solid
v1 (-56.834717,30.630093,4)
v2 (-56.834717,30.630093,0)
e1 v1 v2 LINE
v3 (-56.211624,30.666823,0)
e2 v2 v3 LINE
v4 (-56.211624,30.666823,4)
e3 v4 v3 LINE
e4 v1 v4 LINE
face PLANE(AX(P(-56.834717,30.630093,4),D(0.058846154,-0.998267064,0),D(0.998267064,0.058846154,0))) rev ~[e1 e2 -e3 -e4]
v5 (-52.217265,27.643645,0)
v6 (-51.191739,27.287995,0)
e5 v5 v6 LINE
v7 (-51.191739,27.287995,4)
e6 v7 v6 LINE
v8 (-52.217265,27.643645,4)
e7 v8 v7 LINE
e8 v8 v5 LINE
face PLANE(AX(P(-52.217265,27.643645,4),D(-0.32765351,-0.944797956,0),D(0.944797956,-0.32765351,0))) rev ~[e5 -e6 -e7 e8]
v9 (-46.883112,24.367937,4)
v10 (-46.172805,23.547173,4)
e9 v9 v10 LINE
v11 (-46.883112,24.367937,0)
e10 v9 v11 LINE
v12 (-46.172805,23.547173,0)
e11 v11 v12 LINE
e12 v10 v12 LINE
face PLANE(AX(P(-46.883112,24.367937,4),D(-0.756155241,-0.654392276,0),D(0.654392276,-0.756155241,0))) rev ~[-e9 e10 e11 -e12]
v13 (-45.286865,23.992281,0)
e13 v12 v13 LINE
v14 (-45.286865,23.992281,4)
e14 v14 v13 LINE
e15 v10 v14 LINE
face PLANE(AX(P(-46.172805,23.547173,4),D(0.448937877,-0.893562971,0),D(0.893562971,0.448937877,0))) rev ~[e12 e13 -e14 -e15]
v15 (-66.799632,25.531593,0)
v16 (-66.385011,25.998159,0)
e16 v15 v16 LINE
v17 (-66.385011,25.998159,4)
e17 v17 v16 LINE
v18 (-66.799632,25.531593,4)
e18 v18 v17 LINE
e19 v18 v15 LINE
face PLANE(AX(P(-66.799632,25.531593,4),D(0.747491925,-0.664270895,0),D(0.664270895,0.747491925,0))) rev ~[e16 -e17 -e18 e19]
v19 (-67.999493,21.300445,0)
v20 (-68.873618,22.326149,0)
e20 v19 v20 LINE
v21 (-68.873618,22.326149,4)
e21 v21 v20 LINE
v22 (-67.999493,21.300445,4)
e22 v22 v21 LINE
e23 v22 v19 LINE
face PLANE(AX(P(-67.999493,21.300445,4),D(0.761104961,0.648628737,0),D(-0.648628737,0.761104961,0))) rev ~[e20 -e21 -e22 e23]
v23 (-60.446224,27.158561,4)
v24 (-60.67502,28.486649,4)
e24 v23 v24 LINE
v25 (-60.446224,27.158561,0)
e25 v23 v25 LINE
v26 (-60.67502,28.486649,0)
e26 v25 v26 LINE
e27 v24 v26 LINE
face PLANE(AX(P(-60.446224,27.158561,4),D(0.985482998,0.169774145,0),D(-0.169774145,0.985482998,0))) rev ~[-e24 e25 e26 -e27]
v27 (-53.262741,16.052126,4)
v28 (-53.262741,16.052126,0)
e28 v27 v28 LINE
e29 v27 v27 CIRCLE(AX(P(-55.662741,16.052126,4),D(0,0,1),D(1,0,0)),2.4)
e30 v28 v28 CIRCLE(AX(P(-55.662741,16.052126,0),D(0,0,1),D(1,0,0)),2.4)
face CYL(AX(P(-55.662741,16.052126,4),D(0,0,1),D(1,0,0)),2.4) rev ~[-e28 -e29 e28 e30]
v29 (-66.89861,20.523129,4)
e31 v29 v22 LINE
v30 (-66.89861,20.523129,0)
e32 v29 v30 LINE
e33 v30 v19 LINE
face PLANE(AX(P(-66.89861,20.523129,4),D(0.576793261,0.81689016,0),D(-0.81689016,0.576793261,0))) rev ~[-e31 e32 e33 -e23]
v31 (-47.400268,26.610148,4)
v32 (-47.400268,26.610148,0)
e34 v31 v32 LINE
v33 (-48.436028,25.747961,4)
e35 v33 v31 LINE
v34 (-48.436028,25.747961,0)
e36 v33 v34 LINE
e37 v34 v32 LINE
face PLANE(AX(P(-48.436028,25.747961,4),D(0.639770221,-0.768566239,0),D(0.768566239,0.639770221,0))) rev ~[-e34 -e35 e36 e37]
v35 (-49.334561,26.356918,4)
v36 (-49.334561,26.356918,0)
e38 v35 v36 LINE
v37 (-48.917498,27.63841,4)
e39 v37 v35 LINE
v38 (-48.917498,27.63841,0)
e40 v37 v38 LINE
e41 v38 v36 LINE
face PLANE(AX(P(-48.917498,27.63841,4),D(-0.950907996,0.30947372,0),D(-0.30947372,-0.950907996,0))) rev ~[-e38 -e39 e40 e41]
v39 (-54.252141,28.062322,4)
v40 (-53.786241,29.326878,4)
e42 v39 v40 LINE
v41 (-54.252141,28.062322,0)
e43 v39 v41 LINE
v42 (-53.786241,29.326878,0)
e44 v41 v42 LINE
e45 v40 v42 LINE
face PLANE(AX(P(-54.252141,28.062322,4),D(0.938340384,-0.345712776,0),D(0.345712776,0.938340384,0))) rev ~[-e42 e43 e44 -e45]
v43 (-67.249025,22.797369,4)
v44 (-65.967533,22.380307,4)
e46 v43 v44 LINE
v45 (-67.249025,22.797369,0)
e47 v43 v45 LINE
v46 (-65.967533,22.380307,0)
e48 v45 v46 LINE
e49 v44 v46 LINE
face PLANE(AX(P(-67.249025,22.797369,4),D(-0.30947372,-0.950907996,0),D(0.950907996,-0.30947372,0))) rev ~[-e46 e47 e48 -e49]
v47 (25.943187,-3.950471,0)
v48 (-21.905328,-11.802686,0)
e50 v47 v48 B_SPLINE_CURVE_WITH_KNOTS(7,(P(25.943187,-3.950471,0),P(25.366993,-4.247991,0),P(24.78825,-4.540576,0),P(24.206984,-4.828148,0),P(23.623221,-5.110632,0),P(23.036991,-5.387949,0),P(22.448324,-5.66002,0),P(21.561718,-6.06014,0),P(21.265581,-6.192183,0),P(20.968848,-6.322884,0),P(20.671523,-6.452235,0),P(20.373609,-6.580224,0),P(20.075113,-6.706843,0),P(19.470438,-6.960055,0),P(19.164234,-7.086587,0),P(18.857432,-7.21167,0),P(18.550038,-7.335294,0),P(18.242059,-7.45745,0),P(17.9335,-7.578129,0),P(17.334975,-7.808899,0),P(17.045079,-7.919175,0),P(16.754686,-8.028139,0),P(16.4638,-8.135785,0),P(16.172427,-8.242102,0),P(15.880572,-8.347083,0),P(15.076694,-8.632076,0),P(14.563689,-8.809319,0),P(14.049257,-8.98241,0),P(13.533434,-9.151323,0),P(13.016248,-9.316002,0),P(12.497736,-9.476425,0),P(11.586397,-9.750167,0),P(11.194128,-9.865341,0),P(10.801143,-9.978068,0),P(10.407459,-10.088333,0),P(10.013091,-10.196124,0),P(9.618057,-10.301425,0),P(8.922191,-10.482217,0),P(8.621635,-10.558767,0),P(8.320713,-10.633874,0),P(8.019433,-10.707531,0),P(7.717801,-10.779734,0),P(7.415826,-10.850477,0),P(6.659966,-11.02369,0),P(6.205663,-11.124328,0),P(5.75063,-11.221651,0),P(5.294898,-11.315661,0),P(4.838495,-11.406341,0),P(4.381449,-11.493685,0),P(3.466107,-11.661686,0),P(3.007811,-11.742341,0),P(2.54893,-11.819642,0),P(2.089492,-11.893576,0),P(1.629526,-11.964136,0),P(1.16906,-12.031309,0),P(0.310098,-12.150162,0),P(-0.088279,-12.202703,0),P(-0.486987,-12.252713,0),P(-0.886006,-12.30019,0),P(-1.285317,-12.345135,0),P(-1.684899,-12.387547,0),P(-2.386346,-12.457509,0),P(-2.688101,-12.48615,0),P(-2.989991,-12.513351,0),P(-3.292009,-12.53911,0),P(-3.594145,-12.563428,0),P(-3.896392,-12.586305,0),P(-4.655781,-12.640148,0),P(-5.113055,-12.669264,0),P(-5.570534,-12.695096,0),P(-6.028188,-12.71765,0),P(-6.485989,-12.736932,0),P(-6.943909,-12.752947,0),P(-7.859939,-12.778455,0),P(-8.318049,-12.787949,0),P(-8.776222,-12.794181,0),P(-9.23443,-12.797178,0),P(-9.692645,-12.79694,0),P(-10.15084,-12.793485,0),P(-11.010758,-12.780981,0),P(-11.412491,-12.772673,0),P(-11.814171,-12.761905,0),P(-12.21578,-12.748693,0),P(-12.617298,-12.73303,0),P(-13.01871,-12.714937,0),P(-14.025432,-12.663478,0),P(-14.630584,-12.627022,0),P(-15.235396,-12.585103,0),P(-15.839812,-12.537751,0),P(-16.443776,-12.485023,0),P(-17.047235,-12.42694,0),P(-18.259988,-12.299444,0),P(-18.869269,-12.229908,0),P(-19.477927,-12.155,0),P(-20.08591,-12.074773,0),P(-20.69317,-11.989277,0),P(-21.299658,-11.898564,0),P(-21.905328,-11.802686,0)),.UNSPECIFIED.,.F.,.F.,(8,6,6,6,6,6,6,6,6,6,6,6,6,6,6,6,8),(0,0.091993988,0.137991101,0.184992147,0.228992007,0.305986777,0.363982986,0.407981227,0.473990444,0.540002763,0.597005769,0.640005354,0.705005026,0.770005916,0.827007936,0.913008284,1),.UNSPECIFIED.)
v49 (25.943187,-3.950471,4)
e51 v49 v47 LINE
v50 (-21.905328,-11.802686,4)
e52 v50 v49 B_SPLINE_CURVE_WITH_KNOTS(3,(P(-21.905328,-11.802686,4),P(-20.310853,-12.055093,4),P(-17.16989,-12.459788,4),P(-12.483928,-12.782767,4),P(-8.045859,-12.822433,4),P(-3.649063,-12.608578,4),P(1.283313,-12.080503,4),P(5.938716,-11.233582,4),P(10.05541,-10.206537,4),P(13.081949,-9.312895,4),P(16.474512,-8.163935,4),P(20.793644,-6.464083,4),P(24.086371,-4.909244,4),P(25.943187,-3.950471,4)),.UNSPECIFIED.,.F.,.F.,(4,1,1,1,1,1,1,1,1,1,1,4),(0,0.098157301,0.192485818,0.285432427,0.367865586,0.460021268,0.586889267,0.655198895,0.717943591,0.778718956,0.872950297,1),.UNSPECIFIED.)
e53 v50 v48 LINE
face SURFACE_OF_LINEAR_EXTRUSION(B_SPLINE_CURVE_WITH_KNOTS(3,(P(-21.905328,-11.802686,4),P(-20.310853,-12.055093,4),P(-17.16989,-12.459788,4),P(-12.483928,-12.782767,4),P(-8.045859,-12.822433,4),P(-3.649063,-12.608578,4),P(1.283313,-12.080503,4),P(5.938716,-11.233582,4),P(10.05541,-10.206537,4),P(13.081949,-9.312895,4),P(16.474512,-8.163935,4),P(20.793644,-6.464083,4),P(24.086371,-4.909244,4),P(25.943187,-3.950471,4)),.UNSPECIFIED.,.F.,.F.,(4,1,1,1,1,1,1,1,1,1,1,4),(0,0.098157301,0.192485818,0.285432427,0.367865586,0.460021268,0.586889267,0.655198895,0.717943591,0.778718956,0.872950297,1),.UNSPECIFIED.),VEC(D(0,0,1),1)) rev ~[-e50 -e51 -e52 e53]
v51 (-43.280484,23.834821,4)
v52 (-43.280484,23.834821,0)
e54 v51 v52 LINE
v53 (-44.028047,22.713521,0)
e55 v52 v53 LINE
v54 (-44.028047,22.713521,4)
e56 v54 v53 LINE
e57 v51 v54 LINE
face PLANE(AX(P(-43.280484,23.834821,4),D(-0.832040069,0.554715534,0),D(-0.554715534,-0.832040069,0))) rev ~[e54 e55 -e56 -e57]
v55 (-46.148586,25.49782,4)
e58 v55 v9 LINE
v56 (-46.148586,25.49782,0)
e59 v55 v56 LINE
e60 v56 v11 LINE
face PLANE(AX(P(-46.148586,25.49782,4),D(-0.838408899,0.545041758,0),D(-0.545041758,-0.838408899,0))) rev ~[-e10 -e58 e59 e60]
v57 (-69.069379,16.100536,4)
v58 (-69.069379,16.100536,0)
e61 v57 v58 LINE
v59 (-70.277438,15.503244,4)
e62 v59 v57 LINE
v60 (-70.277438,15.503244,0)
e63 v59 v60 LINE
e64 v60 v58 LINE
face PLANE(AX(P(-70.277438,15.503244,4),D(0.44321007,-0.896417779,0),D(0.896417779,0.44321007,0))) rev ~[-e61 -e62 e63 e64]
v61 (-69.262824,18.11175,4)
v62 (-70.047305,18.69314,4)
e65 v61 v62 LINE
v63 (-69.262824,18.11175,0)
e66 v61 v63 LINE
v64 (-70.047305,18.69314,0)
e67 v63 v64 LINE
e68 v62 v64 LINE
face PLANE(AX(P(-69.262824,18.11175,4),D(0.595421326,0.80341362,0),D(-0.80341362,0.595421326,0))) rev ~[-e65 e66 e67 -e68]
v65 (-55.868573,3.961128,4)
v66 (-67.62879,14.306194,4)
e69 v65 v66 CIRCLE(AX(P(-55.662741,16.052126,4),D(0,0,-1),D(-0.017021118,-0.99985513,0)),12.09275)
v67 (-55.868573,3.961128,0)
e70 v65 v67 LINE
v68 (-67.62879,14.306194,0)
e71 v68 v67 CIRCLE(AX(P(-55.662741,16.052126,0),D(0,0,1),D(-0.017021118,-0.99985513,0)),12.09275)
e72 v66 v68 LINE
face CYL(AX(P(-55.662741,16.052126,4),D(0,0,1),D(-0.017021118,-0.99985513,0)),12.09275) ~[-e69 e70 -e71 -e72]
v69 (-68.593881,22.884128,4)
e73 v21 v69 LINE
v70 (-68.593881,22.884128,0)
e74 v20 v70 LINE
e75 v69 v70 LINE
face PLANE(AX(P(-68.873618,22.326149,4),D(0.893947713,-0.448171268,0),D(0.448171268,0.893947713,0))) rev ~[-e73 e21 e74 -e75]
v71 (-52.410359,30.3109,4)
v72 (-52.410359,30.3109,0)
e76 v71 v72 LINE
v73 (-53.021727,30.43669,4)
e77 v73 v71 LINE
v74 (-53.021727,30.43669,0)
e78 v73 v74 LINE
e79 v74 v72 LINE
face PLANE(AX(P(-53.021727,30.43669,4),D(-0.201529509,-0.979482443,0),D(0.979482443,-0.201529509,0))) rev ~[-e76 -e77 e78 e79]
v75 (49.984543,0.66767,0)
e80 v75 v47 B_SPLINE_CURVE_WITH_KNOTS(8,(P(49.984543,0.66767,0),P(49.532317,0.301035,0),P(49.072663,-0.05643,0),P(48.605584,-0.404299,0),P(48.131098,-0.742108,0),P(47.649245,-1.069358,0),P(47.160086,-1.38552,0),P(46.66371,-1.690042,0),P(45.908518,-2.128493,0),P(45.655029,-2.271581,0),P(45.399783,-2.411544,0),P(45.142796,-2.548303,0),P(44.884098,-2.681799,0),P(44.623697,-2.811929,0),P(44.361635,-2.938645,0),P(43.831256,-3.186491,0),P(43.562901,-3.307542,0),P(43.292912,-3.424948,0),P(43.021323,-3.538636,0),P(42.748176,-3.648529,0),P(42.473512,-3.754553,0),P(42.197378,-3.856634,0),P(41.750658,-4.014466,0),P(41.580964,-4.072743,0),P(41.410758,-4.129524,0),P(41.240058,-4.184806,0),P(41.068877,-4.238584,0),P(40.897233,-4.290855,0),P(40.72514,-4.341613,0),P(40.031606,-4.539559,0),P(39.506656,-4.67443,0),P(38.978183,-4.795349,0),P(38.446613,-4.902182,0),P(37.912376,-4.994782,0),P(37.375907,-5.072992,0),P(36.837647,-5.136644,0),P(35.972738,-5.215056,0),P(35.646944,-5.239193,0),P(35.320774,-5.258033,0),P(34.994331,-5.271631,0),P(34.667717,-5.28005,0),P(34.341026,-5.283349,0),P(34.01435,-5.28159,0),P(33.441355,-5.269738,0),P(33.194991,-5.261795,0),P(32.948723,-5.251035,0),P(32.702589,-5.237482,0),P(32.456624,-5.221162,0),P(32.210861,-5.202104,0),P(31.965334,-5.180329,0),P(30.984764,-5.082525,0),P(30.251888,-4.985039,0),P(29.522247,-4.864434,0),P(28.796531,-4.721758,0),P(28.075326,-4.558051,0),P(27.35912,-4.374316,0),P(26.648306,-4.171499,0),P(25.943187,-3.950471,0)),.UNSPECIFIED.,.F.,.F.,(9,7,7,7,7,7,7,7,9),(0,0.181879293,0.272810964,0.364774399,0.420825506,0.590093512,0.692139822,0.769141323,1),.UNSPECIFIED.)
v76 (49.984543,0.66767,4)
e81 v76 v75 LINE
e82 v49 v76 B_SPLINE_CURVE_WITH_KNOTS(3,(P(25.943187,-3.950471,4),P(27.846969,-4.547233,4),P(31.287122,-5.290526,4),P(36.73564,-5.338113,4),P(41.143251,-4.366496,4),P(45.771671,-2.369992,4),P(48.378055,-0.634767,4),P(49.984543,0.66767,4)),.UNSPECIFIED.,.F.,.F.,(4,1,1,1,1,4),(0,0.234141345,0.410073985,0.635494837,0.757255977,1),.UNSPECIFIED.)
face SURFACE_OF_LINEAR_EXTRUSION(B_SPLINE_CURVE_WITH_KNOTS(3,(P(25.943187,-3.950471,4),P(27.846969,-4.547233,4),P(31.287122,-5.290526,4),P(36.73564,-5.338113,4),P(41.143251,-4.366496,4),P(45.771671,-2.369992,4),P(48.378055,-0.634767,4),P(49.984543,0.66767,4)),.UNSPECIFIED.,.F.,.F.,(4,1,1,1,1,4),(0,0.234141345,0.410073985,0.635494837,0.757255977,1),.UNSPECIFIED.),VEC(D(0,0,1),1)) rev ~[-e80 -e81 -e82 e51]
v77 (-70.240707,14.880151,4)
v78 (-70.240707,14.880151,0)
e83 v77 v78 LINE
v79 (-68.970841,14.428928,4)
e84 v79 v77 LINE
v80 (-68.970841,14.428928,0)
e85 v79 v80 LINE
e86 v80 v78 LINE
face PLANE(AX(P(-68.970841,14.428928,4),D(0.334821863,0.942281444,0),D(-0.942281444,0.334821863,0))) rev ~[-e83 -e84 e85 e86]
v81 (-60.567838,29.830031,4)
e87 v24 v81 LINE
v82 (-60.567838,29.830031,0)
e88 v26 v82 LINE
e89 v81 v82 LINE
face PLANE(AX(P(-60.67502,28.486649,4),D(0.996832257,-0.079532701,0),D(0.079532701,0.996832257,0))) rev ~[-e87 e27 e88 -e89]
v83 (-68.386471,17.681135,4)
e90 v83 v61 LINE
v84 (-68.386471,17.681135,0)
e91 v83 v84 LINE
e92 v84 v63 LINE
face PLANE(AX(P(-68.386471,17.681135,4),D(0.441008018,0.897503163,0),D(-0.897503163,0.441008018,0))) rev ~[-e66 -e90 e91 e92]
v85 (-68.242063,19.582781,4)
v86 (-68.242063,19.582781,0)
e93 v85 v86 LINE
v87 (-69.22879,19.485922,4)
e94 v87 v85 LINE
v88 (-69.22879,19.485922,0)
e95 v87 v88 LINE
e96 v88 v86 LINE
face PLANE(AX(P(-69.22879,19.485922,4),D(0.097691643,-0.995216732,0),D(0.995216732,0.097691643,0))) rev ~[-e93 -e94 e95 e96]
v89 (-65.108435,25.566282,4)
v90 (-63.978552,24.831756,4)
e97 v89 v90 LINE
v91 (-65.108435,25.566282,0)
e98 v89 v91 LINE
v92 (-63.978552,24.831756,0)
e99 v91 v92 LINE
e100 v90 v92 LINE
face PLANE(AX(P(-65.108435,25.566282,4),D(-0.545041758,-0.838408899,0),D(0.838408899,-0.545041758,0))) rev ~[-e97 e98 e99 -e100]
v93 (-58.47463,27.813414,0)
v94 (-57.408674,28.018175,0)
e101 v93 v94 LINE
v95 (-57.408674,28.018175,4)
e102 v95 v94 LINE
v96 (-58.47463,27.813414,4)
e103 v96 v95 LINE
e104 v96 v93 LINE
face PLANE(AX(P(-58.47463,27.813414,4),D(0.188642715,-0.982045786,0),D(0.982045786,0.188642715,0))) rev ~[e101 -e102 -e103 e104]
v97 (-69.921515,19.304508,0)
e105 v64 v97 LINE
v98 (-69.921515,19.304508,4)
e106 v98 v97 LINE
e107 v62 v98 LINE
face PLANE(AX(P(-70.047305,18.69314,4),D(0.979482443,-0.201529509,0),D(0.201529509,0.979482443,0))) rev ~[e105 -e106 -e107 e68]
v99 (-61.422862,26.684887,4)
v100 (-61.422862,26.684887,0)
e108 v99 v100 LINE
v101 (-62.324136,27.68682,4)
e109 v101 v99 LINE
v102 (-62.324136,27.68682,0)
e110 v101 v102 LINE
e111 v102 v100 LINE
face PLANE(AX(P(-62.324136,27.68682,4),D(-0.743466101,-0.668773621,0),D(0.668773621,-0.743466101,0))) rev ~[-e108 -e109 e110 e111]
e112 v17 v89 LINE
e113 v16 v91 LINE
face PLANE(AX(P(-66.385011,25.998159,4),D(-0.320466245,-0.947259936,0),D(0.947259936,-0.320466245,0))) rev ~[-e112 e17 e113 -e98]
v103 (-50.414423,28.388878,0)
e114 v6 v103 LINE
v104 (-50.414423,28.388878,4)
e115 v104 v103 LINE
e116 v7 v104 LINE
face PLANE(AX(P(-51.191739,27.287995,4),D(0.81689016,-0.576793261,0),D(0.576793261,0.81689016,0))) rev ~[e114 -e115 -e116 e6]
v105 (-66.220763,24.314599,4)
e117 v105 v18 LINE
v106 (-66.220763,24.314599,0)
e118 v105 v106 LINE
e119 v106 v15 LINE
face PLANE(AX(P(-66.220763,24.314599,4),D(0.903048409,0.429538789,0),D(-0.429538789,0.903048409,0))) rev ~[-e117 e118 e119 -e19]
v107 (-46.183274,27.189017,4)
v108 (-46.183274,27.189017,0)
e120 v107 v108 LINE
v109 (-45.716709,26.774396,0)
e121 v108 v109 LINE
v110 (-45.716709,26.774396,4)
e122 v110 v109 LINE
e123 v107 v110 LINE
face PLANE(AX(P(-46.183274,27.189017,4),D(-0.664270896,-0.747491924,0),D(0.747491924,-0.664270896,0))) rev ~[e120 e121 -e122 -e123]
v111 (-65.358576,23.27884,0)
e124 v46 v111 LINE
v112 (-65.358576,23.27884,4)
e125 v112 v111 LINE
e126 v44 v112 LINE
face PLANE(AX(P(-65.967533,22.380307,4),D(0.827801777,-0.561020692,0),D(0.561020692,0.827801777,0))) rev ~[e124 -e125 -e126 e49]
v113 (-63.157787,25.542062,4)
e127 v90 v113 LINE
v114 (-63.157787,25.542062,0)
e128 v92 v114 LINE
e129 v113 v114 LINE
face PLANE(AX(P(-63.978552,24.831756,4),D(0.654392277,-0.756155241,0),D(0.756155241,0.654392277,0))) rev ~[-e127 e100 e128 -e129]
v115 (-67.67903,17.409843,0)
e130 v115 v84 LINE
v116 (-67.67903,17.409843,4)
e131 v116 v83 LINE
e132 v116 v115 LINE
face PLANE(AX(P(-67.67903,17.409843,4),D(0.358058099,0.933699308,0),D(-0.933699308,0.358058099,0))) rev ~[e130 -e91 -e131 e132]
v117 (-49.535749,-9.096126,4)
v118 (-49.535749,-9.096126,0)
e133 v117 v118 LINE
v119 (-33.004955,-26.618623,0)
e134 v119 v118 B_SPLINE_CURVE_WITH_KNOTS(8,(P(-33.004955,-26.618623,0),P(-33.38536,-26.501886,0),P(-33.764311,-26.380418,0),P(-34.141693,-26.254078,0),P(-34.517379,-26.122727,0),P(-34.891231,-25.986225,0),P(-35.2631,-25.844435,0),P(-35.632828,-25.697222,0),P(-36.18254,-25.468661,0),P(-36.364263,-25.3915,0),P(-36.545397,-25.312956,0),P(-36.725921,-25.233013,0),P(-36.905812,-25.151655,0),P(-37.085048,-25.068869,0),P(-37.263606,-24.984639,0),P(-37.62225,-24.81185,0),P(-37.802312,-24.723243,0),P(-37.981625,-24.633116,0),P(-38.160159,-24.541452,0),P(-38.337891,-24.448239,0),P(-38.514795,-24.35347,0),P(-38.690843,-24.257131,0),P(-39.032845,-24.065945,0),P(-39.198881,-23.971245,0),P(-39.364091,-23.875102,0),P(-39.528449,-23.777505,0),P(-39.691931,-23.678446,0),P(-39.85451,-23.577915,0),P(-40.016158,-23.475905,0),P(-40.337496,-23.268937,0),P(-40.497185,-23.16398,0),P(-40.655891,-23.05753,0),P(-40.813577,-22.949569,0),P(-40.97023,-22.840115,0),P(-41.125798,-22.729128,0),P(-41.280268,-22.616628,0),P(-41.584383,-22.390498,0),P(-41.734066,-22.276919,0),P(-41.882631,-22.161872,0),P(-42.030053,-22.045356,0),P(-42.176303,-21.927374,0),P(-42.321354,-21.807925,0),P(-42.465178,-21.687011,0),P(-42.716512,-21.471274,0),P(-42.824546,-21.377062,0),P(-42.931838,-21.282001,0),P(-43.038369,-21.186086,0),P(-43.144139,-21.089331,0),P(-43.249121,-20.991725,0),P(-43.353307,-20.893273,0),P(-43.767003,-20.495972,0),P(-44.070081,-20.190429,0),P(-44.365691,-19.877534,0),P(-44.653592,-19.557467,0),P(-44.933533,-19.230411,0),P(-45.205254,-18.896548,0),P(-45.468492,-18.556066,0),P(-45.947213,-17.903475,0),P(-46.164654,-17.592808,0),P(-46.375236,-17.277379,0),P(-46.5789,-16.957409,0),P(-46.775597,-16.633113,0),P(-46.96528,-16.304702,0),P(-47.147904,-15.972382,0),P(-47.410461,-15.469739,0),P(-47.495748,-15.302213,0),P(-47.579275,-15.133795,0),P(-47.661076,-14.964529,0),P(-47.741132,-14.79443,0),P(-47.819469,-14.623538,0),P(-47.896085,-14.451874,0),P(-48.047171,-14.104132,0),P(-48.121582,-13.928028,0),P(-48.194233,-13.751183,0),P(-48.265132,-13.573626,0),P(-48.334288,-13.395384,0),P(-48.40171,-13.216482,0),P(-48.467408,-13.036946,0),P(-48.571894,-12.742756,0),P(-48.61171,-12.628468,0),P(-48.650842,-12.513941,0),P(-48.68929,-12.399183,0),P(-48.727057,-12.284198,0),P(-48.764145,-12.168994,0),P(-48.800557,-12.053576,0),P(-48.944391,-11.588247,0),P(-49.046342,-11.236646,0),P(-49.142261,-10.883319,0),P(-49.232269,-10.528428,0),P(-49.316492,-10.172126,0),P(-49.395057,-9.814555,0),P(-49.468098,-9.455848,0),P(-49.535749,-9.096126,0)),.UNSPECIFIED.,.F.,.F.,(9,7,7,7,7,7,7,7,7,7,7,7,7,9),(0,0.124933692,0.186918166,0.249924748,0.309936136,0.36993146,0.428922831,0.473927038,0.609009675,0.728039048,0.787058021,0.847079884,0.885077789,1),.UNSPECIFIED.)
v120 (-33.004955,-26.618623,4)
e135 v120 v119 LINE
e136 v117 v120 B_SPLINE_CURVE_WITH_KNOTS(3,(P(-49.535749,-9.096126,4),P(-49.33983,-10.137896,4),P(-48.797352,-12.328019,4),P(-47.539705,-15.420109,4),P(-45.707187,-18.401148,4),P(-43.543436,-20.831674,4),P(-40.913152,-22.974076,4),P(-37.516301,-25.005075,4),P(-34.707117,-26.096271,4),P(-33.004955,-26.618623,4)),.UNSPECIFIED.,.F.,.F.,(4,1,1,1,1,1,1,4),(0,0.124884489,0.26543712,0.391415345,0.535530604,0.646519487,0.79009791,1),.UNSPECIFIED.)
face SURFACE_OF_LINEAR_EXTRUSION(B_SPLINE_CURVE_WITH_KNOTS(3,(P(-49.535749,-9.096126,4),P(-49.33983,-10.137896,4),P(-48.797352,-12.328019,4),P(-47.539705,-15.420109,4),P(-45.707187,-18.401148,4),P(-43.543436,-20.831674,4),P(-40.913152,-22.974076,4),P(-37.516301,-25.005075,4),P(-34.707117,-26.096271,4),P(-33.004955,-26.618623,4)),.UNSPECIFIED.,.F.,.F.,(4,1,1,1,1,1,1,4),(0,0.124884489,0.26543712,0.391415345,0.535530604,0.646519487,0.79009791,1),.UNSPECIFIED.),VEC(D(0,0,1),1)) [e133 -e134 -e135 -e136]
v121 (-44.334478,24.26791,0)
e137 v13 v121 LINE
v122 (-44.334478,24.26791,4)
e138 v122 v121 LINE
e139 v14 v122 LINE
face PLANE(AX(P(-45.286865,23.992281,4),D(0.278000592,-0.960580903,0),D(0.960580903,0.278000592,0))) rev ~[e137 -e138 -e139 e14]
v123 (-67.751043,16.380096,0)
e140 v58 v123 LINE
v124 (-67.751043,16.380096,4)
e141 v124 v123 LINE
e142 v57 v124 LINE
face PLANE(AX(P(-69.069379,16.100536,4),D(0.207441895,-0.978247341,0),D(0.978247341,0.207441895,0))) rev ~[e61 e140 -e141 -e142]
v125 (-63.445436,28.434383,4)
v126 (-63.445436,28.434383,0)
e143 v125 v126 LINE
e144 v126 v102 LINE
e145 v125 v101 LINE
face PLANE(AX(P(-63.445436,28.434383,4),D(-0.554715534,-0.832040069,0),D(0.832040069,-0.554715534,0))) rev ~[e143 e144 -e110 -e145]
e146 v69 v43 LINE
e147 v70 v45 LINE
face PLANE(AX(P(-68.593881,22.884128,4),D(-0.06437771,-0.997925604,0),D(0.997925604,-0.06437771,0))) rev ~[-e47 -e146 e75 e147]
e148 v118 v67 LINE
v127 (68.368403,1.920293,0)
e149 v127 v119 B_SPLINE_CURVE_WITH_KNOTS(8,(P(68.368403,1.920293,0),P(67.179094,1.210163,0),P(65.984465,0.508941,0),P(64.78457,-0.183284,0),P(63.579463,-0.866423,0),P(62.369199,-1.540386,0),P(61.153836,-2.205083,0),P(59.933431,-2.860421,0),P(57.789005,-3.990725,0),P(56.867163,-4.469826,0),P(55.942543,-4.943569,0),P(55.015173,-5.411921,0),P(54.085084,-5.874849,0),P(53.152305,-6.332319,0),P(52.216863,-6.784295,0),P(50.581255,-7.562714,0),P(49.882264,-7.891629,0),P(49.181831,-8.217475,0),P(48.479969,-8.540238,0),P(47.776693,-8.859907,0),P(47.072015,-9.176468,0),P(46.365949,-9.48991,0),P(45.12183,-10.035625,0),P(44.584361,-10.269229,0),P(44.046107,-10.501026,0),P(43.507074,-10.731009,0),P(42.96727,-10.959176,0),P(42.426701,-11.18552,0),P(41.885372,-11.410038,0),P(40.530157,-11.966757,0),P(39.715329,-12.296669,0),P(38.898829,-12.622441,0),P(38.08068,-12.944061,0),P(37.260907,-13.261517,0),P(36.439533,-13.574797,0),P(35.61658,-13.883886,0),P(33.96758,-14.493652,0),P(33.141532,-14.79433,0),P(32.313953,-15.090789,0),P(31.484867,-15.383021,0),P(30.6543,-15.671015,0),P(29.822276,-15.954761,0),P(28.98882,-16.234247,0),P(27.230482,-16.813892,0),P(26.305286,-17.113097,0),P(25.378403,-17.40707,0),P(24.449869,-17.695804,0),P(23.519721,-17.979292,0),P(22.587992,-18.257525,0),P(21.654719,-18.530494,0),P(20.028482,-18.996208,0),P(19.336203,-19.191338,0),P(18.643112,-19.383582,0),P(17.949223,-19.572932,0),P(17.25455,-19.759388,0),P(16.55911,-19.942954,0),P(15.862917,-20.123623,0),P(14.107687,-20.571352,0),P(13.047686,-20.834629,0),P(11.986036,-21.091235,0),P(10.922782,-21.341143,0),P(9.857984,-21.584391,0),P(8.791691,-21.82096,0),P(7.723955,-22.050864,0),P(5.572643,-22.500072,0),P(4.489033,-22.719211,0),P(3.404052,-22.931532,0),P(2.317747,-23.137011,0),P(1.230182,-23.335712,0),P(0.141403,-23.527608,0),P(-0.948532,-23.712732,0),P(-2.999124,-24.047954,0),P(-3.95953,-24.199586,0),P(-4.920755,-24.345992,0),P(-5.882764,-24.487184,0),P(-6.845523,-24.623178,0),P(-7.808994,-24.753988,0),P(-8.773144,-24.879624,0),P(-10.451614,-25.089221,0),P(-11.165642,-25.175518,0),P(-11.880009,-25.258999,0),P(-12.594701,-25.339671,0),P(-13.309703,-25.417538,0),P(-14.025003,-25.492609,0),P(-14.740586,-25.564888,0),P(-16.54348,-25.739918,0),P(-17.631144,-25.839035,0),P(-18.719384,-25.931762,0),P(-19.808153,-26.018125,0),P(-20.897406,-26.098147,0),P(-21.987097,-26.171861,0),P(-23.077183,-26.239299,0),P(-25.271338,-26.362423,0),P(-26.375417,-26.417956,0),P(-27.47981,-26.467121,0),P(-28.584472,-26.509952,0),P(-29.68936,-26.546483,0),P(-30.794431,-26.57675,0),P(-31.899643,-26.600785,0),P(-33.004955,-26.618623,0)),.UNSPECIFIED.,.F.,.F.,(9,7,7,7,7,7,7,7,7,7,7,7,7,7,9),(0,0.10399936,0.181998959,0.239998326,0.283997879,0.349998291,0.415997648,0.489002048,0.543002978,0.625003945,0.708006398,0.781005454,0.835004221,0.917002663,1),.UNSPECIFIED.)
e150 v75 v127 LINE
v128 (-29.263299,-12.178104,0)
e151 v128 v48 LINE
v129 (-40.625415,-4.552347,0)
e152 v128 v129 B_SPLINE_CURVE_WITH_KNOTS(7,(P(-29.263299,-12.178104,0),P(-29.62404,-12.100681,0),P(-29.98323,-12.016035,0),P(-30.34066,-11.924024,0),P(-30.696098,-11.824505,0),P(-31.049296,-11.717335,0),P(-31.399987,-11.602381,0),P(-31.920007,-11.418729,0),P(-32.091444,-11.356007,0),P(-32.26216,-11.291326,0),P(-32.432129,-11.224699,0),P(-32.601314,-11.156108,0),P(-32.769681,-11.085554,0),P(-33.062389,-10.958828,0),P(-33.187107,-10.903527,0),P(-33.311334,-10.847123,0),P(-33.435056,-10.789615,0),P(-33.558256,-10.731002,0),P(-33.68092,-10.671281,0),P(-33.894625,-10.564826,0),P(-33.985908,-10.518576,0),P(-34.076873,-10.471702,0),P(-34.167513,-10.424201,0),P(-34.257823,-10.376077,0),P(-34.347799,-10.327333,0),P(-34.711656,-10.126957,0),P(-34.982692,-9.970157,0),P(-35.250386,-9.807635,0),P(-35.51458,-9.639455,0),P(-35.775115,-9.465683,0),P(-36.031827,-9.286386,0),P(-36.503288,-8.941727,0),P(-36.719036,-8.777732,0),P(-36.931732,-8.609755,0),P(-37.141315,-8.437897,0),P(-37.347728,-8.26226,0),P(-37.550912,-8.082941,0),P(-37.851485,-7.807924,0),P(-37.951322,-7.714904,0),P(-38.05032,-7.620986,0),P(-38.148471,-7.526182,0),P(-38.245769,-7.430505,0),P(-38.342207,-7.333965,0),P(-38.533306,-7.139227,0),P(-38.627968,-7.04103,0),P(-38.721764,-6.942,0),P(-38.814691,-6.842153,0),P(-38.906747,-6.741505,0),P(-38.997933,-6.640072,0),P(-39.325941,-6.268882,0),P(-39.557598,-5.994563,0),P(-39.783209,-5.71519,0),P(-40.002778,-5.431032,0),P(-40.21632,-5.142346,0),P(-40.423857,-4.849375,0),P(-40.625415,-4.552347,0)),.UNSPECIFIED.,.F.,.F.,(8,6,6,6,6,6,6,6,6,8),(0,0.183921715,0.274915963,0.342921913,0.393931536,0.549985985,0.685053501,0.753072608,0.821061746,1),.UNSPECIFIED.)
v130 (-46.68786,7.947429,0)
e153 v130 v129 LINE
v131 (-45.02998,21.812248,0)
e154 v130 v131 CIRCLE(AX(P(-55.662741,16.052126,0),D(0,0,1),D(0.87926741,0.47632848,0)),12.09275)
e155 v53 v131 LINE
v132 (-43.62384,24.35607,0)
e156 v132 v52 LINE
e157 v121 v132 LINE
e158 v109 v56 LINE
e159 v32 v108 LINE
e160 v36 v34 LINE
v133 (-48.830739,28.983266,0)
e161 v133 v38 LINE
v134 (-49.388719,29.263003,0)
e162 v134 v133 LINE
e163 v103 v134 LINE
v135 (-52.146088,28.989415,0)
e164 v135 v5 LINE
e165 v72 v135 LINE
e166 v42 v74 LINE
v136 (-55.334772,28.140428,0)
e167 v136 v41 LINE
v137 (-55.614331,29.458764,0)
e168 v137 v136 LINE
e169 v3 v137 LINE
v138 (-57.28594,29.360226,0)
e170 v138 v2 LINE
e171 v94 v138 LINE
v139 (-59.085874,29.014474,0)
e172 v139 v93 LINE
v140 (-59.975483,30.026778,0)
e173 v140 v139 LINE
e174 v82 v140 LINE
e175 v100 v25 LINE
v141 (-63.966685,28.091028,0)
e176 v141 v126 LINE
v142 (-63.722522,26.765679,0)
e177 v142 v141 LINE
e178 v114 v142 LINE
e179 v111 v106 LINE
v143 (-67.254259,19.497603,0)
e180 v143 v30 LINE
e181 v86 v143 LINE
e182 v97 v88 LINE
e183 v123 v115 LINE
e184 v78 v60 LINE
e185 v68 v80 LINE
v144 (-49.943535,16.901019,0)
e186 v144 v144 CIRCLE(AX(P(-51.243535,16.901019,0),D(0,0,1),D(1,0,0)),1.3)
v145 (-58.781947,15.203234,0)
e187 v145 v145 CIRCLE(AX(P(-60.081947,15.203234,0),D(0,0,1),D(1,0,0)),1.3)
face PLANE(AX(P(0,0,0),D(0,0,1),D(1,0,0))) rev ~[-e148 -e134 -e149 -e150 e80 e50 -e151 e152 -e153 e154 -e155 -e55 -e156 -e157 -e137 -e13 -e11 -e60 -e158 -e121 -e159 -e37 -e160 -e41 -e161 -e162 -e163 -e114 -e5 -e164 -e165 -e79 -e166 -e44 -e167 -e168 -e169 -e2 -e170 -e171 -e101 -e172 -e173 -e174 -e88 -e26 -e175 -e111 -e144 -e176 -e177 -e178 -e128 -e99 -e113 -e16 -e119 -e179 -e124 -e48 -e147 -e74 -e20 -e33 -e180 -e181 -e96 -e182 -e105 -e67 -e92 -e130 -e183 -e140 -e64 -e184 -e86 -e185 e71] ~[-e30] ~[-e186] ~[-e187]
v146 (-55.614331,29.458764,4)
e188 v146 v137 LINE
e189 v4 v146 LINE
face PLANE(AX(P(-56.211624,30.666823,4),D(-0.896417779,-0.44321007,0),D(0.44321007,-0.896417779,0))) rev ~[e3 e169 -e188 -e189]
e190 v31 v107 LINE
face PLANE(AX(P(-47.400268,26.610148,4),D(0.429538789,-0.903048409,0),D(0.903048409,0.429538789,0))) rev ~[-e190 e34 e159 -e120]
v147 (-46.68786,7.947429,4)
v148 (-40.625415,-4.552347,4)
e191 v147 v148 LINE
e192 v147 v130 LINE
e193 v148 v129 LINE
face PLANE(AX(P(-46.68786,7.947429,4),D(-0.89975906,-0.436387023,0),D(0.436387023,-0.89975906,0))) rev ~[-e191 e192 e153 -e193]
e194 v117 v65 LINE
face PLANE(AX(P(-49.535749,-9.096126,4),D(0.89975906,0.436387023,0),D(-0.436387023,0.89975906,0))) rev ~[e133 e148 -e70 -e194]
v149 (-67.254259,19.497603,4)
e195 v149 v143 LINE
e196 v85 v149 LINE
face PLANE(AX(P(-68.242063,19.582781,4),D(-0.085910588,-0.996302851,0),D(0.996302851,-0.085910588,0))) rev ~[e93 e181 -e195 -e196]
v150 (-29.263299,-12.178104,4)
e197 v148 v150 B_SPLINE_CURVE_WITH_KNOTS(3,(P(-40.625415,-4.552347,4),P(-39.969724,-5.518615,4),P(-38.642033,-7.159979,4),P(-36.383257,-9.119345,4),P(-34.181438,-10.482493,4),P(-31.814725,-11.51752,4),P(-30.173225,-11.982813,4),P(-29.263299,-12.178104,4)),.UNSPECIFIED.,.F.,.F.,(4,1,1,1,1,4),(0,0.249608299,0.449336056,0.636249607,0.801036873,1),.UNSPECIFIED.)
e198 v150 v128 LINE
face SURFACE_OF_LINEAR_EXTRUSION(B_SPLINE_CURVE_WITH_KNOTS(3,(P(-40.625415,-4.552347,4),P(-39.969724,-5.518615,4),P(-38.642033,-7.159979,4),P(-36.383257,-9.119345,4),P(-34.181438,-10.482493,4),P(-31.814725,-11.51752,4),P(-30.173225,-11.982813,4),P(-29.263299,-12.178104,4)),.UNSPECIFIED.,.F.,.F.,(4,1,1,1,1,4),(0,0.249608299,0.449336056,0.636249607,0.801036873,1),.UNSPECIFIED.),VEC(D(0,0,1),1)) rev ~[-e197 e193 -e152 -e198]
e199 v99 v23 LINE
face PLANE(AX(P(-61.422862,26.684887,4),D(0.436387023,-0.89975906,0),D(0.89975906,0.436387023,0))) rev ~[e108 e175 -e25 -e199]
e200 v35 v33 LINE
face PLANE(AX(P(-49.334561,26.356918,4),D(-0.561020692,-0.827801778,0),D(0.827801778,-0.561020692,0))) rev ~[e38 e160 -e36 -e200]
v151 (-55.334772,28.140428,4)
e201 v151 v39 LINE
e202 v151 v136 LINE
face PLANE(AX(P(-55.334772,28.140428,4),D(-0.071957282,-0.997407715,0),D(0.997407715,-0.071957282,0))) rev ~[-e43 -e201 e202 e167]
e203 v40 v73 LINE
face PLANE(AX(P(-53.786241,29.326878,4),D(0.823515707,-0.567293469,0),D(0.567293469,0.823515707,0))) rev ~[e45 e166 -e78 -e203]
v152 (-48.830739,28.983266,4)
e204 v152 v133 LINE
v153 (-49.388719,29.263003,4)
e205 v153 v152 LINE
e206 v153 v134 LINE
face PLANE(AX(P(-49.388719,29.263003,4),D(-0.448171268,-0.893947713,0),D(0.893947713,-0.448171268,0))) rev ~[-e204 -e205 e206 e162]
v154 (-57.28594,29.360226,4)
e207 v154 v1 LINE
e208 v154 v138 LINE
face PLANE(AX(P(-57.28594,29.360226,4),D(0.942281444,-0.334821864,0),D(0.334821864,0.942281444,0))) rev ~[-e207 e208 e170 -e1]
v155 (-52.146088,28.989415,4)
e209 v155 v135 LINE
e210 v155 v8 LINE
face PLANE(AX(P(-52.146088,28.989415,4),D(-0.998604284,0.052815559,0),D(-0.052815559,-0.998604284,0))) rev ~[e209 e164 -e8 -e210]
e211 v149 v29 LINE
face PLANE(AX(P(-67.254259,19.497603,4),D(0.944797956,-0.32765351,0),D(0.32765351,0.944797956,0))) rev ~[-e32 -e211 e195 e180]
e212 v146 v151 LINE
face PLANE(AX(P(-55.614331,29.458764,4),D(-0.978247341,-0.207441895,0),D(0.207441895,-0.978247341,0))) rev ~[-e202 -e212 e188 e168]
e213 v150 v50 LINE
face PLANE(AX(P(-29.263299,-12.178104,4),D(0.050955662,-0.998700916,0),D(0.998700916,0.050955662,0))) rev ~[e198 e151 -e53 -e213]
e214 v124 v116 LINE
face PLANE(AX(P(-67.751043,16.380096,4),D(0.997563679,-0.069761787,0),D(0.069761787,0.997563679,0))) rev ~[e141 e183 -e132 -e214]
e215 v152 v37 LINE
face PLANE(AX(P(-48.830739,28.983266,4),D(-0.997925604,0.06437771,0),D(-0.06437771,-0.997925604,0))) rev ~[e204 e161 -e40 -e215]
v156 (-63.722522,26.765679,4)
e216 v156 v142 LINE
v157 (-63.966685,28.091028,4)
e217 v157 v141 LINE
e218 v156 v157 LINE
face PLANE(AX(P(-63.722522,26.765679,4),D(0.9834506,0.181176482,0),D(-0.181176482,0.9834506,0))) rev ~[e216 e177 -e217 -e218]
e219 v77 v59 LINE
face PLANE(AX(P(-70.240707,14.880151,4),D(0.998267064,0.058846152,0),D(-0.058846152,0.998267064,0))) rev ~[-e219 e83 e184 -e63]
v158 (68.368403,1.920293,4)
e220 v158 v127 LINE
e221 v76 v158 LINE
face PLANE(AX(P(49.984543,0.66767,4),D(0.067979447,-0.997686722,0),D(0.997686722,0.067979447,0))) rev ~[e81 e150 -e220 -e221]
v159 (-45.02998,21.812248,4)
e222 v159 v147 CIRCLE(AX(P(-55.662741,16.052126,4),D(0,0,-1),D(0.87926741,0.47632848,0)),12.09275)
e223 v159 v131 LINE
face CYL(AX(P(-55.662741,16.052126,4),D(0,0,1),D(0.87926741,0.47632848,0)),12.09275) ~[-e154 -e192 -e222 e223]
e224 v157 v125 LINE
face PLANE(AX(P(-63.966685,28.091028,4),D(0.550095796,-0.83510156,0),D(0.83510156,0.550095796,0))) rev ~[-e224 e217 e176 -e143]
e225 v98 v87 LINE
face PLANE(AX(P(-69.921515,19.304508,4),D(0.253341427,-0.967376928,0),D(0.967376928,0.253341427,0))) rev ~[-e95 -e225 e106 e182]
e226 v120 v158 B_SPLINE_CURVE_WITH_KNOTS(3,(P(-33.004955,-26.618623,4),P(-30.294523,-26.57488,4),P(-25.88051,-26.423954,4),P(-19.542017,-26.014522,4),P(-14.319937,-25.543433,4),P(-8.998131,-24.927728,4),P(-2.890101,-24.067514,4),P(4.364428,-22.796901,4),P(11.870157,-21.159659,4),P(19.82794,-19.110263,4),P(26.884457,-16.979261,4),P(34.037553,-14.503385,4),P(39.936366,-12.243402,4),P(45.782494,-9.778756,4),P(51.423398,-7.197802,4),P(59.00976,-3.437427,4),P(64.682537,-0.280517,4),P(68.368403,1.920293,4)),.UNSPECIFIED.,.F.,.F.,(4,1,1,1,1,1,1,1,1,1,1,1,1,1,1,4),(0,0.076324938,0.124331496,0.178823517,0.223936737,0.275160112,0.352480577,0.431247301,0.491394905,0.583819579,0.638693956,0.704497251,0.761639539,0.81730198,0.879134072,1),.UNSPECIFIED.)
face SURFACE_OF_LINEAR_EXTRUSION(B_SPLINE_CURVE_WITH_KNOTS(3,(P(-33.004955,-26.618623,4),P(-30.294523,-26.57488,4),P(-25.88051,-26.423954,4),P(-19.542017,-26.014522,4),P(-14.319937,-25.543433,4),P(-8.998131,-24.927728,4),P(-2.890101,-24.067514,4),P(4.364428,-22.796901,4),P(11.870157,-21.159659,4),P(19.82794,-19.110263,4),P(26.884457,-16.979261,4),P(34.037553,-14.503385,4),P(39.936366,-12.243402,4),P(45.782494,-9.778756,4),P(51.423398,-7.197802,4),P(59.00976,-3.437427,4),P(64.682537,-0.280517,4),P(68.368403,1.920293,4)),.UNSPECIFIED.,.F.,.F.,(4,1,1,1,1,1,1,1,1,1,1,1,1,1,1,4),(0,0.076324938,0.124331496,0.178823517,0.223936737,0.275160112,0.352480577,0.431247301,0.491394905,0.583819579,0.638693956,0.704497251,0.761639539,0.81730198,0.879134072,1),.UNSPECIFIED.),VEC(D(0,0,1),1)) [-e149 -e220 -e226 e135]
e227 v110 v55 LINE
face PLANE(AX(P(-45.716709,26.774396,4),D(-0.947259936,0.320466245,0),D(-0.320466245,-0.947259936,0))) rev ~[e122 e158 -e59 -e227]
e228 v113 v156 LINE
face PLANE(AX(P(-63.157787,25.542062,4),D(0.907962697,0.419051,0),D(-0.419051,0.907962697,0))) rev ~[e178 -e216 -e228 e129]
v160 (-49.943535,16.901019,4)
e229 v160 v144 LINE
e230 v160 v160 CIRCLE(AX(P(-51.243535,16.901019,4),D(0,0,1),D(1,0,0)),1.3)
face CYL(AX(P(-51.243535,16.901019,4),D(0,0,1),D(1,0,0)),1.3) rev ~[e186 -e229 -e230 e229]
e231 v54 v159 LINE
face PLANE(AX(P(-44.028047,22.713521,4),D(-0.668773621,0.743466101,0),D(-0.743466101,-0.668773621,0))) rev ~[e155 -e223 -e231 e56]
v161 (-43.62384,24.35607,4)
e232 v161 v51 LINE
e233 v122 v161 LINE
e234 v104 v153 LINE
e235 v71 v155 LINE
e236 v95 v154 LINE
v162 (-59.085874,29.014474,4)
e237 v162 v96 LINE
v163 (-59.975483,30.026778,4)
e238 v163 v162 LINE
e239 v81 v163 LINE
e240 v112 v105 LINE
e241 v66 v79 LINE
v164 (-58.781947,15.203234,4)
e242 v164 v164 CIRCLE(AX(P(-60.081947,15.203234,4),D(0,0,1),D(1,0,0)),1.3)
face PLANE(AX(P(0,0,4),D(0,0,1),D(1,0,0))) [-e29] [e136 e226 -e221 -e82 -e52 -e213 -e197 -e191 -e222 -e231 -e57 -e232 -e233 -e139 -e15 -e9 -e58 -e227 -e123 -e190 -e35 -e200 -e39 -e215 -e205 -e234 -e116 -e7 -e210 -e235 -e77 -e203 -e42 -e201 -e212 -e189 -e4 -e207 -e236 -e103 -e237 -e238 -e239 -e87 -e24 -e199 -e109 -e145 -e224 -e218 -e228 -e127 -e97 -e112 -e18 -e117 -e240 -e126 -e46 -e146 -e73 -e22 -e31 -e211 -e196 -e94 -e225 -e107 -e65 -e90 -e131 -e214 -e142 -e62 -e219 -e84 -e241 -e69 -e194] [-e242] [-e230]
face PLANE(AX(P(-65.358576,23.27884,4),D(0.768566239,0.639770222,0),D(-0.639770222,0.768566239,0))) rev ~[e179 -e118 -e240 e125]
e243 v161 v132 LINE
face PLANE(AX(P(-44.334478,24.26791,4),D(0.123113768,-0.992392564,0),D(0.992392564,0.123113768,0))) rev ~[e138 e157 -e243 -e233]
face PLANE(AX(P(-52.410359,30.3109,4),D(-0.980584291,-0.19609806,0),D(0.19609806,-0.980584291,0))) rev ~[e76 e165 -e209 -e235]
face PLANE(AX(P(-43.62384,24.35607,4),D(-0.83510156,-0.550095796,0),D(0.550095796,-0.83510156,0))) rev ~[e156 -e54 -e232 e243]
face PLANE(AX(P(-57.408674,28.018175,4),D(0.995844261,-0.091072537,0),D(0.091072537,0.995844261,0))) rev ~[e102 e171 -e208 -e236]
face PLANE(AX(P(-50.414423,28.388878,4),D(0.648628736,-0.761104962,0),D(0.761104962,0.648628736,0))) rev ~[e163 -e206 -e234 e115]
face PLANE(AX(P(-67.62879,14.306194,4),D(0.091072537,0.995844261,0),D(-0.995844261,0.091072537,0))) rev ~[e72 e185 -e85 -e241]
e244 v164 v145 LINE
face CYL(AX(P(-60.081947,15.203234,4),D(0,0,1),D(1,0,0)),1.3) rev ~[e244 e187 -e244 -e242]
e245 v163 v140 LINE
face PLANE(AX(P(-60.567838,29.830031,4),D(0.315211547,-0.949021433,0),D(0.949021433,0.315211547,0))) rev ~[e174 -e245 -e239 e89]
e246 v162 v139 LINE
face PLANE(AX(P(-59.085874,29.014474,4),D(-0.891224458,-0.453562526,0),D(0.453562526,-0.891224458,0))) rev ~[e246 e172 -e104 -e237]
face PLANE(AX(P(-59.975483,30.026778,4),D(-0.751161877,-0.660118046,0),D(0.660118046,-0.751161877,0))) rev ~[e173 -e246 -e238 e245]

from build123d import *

# Parameters (mm, degrees)
SKETCH1_W           = 150
SKETCH1_H           = 70
BOSS_EXTRUDE1_DEPTH = 4
SKETCH2_W           = 150
SKETCH2_H           = 70
SKETCH2_R           = 1.3
SKETCH2_R_2         = 2.4
CUT_EXTRUDE1_DEPTH  = 10


with BuildPart() as part:
    # Sketch1 → Boss-Extrude1 (new body)
    with BuildSketch(Plane.XY):
        Rectangle(SKETCH1_W, SKETCH1_H)
    extrude(amount=BOSS_EXTRUDE1_DEPTH)

    # Sketch2 → Cut-Extrude1 (cut)
    # profile 1 of 4: a face of its own
    with BuildSketch(Plane.XY.offset(4)):
        Rectangle(SKETCH2_W, SKETCH2_H)
        with BuildLine():
            add(Edge.make_bspline(
                [(25.943186653, -3.950471355), (27.846969269, -4.547232813), (31.287122421, -5.290525852), (36.735640075, -5.338112806), (41.143250704, -4.366496225), (45.771671446, -2.369991596), (48.378055128, -0.634767364), (49.984542654, 0.667670418)],
                knots=[0, 0, 0, 0, 0.234141345, 0.410073985, 0.635494837, 0.757255977, 1, 1, 1, 1], degree=3))
            Line((49.984542654, 0.667670418), (68.368403063, 1.920292741))
            add(Edge.make_bspline(
                [(-33.004955139, -26.618623378), (-30.294523128, -26.574879913), (-25.880509709, -26.423954366), (-19.54201722, -26.014521717), (-14.319937046, -25.543432562), (-8.998131049, -24.92772797), (-2.890101028, -24.067514059), (4.364427962, -22.796901426), (11.870157255, -21.159659498), (19.827939937, -19.110263295), (26.884456831, -16.979260605), (34.037553038, -14.503385048), (39.936366025, -12.243402206), (45.782494162, -9.778756125), (51.423398212, -7.197801789), (59.009760326, -3.437427178), (64.682537278, -0.280517491), (68.368403063, 1.920292741)],
                knots=[0, 0, 0, 0, 0.076324938, 0.124331496, 0.178823517, 0.223936737, 0.275160112, 0.352480577, 0.431247301, 0.491394905, 0.583819579, 0.638693956, 0.704497251, 0.761639539, 0.81730198, 0.879134072, 1, 1, 1, 1], degree=3))
            add(Edge.make_bspline(
                [(-49.535748672, -9.096126268), (-49.339830369, -10.137896023), (-48.797352048, -12.328019472), (-47.539705157, -15.420109206), (-45.707187417, -18.401147763), (-43.54343584, -20.831673927), (-40.91315221, -22.974076428), (-37.51630052, -25.005074849), (-34.707117005, -26.096270898), (-33.004955139, -26.618623378)],
                knots=[0, 0, 0, 0, 0.124884489, 0.26543712, 0.391415345, 0.535530604, 0.646519487, 0.79009791, 1, 1, 1, 1], degree=3))
            Line((-49.535748672, -9.096126268), (-55.868573385, 3.961128214))
            ThreePointArc((-55.868573385, 3.961128214), (-63.649841308, 6.972432766), (-67.628790007, 14.306193932))
            Line((-67.628790007, 14.306193932), (-68.970840738, 14.428927947))
            Line((-68.970840738, 14.428927947), (-70.240707474, 14.880151039))
            Line((-70.240707474, 14.880151039), (-70.277437725, 15.5032436))
            Line((-70.277437725, 15.5032436), (-69.069379214, 16.10053619))
            Line((-69.069379214, 16.10053619), (-67.751042994, 16.380095513))
            Line((-67.751042994, 16.380095513), (-67.679030495, 17.409843403))
            Line((-67.679030495, 17.409843403), (-68.386470931, 17.681135001))
            Line((-68.386470931, 17.681135001), (-69.26282403, 18.111750468))
            Line((-69.26282403, 18.111750468), (-70.047304849, 18.693140424))
            Line((-70.047304849, 18.693140424), (-69.921515326, 19.304508109))
            Line((-69.921515326, 19.304508109), (-69.22879013, 19.48592239))
            Line((-69.22879013, 19.48592239), (-68.242063209, 19.582780663))
            Line((-68.242063209, 19.582780663), (-67.254259433, 19.497602945))
            Line((-67.254259433, 19.497602945), (-66.898609662, 20.523128894))
            Line((-66.898609662, 20.523128894), (-67.999492681, 21.300445035))
            Line((-67.999492681, 21.300445035), (-68.873617988, 22.326149063))
            Line((-68.873617988, 22.326149063), (-68.593881038, 22.884128176))
            Line((-68.593881038, 22.884128176), (-67.249025383, 22.797369477))
            Line((-67.249025383, 22.797369477), (-65.967533065, 22.380306842))
            Line((-65.967533065, 22.380306842), (-65.358576119, 23.278839907))
            Line((-65.358576119, 23.278839907), (-66.220763237, 24.314599134))
            Line((-66.220763237, 24.314599134), (-66.799631709, 25.531593422))
            Line((-66.799631709, 25.531593422), (-66.385010944, 25.998158608))
            Line((-66.385010944, 25.998158608), (-65.108434938, 25.566281883))
            Line((-65.108434938, 25.566281883), (-63.978552164, 24.831755694))
            Line((-63.978552164, 24.831755694), (-63.157787454, 25.542062333))
            Line((-63.157787454, 25.542062333), (-63.722522044, 26.765679367))
            Line((-63.722522044, 26.765679367), (-63.966684751, 28.091027765))
            Line((-63.966684751, 28.091027765), (-63.44543589, 28.434383377))
            Line((-63.44543589, 28.434383377), (-62.324136078, 27.686820312))
            Line((-62.324136078, 27.686820312), (-61.422862493, 26.684887316))
            Line((-61.422862493, 26.684887316), (-60.446223776, 27.158561304))
            Line((-60.446223776, 27.158561304), (-60.675020109, 28.486648666))
            Line((-60.675020109, 28.486648666), (-60.567837768, 29.830030872))
            Line((-60.567837768, 29.830030872), (-59.975483059, 30.026777792))
            Line((-59.975483059, 30.026777792), (-59.08587417, 29.014473574))
            Line((-59.08587417, 29.014473574), (-58.474630079, 27.813413848))
            Line((-58.474630079, 27.813413848), (-57.40867367, 28.018175086))
            Line((-57.40867367, 28.018175086), (-57.285939655, 29.360225818))
            Line((-57.285939655, 29.360225818), (-56.834716563, 30.630092553))
            Line((-56.834716563, 30.630092553), (-56.211624002, 30.666822805))
            Line((-56.211624002, 30.666822805), (-55.614331412, 29.458764294))
            Line((-55.614331412, 29.458764294), (-55.334772089, 28.140428074))
            Line((-55.334772089, 28.140428074), (-54.252141156, 28.062322422))
            Line((-54.252141156, 28.062322422), (-53.786240912, 29.326877983))
            Line((-53.786240912, 29.326877983), (-53.021727178, 30.436689929))
            Line((-53.021727178, 30.436689929), (-52.410359493, 30.310900406))
            Line((-52.410359493, 30.310900406), (-52.146087704, 28.989414792))
            Line((-52.146087704, 28.989414792), (-52.217264657, 27.643644513))
            Line((-52.217264657, 27.643644513), (-51.191738708, 27.287994742))
            Line((-51.191738708, 27.287994742), (-50.414422567, 28.388877761))
            Line((-50.414422567, 28.388877761), (-49.388718539, 29.263003067))
            Line((-49.388718539, 29.263003067), (-48.830739426, 28.983266117))
            Line((-48.830739426, 28.983266117), (-48.917498125, 27.638410463))
            Line((-48.917498125, 27.638410463), (-49.33456076, 26.356918144))
            Line((-49.33456076, 26.356918144), (-48.436027695, 25.747961199))
            Line((-48.436027695, 25.747961199), (-47.400268467, 26.610148317))
            Line((-47.400268467, 26.610148317), (-46.18327418, 27.189016789))
            Line((-46.18327418, 27.189016789), (-45.716708994, 26.774396023))
            Line((-45.716708994, 26.774396023), (-46.148585719, 25.497820017))
            Line((-46.148585719, 25.497820017), (-46.883111907, 24.367937244))
            Line((-46.883111907, 24.367937244), (-46.172805269, 23.547172533))
            Line((-46.172805269, 23.547172533), (-45.286864939, 23.992280694))
            Line((-45.286864939, 23.992280694), (-44.334478382, 24.26790977))
            Line((-44.334478382, 24.26790977), (-43.623839837, 24.356069831))
            Line((-43.623839837, 24.356069831), (-43.280484225, 23.83482097))
            Line((-43.280484225, 23.83482097), (-44.02804729, 22.713521158))
            Line((-44.02804729, 22.713521158), (-45.029980286, 21.812247573))
            ThreePointArc((-45.029980286, 21.812247573), (-43.655526666, 14.616368623), (-46.687860181, 7.947429421))
            Line((-46.687860181, 7.947429421), (-40.625414849, -4.552346756))
            add(Edge.make_bspline(
                [(-40.625414849, -4.552346756), (-39.969724138, -5.518615353), (-38.642033006, -7.159979255), (-36.383256782, -9.119344727), (-34.181437855, -10.482492748), (-31.814725419, -11.517519607), (-30.173224961, -11.982812896), (-29.2632985, -12.178103902)],
                knots=[0, 0, 0, 0, 0.249608299, 0.449336056, 0.636249607, 0.801036873, 1, 1, 1, 1], degree=3))
            Line((-29.2632985, -12.178103902), (-21.905328426, -11.80268597))
            add(Edge.make_bspline(
                [(-21.905328426, -11.80268597), (-20.310852996, -12.055092712), (-17.169889797, -12.459787879), (-12.483928013, -12.782767249), (-8.045859096, -12.82243272), (-3.649062985, -12.608578219), (1.283313279, -12.08050338), (5.938716144, -11.233581759), (10.05540984, -10.206537199), (13.081948519, -9.312895411), (16.474512339, -8.1639354), (20.793643696, -6.464082533), (24.086370836, -4.909244471), (25.943186653, -3.950471355)],
                knots=[0, 0, 0, 0, 0.098157301, 0.192485818, 0.285432427, 0.367865586, 0.460021268, 0.586889267, 0.655198895, 0.717943591, 0.778718956, 0.872950297, 1, 1, 1, 1], degree=3))
        make_face(mode=Mode.SUBTRACT)
    # profile 2 of 4: a face of its own
    with BuildSketch(Plane.XY.offset(4)):
        with Locations((-60.081947299, 15.203234123)):
            Circle(SKETCH2_R)
    # profile 3 of 4: a face of its own
    with BuildSketch(Plane.XY.offset(4)):
        with Locations((-51.243535224, 16.901018558)):
            Circle(SKETCH2_R)
    # profile 4 of 4: a face of its own
    with BuildSketch(Plane.XY.offset(4)):
        with Locations((-55.662741261, 16.052126341)):
            Circle(SKETCH2_R_2)
    extrude(amount=-CUT_EXTRUDE1_DEPTH, mode=Mode.SUBTRACT)


solid = part.part
